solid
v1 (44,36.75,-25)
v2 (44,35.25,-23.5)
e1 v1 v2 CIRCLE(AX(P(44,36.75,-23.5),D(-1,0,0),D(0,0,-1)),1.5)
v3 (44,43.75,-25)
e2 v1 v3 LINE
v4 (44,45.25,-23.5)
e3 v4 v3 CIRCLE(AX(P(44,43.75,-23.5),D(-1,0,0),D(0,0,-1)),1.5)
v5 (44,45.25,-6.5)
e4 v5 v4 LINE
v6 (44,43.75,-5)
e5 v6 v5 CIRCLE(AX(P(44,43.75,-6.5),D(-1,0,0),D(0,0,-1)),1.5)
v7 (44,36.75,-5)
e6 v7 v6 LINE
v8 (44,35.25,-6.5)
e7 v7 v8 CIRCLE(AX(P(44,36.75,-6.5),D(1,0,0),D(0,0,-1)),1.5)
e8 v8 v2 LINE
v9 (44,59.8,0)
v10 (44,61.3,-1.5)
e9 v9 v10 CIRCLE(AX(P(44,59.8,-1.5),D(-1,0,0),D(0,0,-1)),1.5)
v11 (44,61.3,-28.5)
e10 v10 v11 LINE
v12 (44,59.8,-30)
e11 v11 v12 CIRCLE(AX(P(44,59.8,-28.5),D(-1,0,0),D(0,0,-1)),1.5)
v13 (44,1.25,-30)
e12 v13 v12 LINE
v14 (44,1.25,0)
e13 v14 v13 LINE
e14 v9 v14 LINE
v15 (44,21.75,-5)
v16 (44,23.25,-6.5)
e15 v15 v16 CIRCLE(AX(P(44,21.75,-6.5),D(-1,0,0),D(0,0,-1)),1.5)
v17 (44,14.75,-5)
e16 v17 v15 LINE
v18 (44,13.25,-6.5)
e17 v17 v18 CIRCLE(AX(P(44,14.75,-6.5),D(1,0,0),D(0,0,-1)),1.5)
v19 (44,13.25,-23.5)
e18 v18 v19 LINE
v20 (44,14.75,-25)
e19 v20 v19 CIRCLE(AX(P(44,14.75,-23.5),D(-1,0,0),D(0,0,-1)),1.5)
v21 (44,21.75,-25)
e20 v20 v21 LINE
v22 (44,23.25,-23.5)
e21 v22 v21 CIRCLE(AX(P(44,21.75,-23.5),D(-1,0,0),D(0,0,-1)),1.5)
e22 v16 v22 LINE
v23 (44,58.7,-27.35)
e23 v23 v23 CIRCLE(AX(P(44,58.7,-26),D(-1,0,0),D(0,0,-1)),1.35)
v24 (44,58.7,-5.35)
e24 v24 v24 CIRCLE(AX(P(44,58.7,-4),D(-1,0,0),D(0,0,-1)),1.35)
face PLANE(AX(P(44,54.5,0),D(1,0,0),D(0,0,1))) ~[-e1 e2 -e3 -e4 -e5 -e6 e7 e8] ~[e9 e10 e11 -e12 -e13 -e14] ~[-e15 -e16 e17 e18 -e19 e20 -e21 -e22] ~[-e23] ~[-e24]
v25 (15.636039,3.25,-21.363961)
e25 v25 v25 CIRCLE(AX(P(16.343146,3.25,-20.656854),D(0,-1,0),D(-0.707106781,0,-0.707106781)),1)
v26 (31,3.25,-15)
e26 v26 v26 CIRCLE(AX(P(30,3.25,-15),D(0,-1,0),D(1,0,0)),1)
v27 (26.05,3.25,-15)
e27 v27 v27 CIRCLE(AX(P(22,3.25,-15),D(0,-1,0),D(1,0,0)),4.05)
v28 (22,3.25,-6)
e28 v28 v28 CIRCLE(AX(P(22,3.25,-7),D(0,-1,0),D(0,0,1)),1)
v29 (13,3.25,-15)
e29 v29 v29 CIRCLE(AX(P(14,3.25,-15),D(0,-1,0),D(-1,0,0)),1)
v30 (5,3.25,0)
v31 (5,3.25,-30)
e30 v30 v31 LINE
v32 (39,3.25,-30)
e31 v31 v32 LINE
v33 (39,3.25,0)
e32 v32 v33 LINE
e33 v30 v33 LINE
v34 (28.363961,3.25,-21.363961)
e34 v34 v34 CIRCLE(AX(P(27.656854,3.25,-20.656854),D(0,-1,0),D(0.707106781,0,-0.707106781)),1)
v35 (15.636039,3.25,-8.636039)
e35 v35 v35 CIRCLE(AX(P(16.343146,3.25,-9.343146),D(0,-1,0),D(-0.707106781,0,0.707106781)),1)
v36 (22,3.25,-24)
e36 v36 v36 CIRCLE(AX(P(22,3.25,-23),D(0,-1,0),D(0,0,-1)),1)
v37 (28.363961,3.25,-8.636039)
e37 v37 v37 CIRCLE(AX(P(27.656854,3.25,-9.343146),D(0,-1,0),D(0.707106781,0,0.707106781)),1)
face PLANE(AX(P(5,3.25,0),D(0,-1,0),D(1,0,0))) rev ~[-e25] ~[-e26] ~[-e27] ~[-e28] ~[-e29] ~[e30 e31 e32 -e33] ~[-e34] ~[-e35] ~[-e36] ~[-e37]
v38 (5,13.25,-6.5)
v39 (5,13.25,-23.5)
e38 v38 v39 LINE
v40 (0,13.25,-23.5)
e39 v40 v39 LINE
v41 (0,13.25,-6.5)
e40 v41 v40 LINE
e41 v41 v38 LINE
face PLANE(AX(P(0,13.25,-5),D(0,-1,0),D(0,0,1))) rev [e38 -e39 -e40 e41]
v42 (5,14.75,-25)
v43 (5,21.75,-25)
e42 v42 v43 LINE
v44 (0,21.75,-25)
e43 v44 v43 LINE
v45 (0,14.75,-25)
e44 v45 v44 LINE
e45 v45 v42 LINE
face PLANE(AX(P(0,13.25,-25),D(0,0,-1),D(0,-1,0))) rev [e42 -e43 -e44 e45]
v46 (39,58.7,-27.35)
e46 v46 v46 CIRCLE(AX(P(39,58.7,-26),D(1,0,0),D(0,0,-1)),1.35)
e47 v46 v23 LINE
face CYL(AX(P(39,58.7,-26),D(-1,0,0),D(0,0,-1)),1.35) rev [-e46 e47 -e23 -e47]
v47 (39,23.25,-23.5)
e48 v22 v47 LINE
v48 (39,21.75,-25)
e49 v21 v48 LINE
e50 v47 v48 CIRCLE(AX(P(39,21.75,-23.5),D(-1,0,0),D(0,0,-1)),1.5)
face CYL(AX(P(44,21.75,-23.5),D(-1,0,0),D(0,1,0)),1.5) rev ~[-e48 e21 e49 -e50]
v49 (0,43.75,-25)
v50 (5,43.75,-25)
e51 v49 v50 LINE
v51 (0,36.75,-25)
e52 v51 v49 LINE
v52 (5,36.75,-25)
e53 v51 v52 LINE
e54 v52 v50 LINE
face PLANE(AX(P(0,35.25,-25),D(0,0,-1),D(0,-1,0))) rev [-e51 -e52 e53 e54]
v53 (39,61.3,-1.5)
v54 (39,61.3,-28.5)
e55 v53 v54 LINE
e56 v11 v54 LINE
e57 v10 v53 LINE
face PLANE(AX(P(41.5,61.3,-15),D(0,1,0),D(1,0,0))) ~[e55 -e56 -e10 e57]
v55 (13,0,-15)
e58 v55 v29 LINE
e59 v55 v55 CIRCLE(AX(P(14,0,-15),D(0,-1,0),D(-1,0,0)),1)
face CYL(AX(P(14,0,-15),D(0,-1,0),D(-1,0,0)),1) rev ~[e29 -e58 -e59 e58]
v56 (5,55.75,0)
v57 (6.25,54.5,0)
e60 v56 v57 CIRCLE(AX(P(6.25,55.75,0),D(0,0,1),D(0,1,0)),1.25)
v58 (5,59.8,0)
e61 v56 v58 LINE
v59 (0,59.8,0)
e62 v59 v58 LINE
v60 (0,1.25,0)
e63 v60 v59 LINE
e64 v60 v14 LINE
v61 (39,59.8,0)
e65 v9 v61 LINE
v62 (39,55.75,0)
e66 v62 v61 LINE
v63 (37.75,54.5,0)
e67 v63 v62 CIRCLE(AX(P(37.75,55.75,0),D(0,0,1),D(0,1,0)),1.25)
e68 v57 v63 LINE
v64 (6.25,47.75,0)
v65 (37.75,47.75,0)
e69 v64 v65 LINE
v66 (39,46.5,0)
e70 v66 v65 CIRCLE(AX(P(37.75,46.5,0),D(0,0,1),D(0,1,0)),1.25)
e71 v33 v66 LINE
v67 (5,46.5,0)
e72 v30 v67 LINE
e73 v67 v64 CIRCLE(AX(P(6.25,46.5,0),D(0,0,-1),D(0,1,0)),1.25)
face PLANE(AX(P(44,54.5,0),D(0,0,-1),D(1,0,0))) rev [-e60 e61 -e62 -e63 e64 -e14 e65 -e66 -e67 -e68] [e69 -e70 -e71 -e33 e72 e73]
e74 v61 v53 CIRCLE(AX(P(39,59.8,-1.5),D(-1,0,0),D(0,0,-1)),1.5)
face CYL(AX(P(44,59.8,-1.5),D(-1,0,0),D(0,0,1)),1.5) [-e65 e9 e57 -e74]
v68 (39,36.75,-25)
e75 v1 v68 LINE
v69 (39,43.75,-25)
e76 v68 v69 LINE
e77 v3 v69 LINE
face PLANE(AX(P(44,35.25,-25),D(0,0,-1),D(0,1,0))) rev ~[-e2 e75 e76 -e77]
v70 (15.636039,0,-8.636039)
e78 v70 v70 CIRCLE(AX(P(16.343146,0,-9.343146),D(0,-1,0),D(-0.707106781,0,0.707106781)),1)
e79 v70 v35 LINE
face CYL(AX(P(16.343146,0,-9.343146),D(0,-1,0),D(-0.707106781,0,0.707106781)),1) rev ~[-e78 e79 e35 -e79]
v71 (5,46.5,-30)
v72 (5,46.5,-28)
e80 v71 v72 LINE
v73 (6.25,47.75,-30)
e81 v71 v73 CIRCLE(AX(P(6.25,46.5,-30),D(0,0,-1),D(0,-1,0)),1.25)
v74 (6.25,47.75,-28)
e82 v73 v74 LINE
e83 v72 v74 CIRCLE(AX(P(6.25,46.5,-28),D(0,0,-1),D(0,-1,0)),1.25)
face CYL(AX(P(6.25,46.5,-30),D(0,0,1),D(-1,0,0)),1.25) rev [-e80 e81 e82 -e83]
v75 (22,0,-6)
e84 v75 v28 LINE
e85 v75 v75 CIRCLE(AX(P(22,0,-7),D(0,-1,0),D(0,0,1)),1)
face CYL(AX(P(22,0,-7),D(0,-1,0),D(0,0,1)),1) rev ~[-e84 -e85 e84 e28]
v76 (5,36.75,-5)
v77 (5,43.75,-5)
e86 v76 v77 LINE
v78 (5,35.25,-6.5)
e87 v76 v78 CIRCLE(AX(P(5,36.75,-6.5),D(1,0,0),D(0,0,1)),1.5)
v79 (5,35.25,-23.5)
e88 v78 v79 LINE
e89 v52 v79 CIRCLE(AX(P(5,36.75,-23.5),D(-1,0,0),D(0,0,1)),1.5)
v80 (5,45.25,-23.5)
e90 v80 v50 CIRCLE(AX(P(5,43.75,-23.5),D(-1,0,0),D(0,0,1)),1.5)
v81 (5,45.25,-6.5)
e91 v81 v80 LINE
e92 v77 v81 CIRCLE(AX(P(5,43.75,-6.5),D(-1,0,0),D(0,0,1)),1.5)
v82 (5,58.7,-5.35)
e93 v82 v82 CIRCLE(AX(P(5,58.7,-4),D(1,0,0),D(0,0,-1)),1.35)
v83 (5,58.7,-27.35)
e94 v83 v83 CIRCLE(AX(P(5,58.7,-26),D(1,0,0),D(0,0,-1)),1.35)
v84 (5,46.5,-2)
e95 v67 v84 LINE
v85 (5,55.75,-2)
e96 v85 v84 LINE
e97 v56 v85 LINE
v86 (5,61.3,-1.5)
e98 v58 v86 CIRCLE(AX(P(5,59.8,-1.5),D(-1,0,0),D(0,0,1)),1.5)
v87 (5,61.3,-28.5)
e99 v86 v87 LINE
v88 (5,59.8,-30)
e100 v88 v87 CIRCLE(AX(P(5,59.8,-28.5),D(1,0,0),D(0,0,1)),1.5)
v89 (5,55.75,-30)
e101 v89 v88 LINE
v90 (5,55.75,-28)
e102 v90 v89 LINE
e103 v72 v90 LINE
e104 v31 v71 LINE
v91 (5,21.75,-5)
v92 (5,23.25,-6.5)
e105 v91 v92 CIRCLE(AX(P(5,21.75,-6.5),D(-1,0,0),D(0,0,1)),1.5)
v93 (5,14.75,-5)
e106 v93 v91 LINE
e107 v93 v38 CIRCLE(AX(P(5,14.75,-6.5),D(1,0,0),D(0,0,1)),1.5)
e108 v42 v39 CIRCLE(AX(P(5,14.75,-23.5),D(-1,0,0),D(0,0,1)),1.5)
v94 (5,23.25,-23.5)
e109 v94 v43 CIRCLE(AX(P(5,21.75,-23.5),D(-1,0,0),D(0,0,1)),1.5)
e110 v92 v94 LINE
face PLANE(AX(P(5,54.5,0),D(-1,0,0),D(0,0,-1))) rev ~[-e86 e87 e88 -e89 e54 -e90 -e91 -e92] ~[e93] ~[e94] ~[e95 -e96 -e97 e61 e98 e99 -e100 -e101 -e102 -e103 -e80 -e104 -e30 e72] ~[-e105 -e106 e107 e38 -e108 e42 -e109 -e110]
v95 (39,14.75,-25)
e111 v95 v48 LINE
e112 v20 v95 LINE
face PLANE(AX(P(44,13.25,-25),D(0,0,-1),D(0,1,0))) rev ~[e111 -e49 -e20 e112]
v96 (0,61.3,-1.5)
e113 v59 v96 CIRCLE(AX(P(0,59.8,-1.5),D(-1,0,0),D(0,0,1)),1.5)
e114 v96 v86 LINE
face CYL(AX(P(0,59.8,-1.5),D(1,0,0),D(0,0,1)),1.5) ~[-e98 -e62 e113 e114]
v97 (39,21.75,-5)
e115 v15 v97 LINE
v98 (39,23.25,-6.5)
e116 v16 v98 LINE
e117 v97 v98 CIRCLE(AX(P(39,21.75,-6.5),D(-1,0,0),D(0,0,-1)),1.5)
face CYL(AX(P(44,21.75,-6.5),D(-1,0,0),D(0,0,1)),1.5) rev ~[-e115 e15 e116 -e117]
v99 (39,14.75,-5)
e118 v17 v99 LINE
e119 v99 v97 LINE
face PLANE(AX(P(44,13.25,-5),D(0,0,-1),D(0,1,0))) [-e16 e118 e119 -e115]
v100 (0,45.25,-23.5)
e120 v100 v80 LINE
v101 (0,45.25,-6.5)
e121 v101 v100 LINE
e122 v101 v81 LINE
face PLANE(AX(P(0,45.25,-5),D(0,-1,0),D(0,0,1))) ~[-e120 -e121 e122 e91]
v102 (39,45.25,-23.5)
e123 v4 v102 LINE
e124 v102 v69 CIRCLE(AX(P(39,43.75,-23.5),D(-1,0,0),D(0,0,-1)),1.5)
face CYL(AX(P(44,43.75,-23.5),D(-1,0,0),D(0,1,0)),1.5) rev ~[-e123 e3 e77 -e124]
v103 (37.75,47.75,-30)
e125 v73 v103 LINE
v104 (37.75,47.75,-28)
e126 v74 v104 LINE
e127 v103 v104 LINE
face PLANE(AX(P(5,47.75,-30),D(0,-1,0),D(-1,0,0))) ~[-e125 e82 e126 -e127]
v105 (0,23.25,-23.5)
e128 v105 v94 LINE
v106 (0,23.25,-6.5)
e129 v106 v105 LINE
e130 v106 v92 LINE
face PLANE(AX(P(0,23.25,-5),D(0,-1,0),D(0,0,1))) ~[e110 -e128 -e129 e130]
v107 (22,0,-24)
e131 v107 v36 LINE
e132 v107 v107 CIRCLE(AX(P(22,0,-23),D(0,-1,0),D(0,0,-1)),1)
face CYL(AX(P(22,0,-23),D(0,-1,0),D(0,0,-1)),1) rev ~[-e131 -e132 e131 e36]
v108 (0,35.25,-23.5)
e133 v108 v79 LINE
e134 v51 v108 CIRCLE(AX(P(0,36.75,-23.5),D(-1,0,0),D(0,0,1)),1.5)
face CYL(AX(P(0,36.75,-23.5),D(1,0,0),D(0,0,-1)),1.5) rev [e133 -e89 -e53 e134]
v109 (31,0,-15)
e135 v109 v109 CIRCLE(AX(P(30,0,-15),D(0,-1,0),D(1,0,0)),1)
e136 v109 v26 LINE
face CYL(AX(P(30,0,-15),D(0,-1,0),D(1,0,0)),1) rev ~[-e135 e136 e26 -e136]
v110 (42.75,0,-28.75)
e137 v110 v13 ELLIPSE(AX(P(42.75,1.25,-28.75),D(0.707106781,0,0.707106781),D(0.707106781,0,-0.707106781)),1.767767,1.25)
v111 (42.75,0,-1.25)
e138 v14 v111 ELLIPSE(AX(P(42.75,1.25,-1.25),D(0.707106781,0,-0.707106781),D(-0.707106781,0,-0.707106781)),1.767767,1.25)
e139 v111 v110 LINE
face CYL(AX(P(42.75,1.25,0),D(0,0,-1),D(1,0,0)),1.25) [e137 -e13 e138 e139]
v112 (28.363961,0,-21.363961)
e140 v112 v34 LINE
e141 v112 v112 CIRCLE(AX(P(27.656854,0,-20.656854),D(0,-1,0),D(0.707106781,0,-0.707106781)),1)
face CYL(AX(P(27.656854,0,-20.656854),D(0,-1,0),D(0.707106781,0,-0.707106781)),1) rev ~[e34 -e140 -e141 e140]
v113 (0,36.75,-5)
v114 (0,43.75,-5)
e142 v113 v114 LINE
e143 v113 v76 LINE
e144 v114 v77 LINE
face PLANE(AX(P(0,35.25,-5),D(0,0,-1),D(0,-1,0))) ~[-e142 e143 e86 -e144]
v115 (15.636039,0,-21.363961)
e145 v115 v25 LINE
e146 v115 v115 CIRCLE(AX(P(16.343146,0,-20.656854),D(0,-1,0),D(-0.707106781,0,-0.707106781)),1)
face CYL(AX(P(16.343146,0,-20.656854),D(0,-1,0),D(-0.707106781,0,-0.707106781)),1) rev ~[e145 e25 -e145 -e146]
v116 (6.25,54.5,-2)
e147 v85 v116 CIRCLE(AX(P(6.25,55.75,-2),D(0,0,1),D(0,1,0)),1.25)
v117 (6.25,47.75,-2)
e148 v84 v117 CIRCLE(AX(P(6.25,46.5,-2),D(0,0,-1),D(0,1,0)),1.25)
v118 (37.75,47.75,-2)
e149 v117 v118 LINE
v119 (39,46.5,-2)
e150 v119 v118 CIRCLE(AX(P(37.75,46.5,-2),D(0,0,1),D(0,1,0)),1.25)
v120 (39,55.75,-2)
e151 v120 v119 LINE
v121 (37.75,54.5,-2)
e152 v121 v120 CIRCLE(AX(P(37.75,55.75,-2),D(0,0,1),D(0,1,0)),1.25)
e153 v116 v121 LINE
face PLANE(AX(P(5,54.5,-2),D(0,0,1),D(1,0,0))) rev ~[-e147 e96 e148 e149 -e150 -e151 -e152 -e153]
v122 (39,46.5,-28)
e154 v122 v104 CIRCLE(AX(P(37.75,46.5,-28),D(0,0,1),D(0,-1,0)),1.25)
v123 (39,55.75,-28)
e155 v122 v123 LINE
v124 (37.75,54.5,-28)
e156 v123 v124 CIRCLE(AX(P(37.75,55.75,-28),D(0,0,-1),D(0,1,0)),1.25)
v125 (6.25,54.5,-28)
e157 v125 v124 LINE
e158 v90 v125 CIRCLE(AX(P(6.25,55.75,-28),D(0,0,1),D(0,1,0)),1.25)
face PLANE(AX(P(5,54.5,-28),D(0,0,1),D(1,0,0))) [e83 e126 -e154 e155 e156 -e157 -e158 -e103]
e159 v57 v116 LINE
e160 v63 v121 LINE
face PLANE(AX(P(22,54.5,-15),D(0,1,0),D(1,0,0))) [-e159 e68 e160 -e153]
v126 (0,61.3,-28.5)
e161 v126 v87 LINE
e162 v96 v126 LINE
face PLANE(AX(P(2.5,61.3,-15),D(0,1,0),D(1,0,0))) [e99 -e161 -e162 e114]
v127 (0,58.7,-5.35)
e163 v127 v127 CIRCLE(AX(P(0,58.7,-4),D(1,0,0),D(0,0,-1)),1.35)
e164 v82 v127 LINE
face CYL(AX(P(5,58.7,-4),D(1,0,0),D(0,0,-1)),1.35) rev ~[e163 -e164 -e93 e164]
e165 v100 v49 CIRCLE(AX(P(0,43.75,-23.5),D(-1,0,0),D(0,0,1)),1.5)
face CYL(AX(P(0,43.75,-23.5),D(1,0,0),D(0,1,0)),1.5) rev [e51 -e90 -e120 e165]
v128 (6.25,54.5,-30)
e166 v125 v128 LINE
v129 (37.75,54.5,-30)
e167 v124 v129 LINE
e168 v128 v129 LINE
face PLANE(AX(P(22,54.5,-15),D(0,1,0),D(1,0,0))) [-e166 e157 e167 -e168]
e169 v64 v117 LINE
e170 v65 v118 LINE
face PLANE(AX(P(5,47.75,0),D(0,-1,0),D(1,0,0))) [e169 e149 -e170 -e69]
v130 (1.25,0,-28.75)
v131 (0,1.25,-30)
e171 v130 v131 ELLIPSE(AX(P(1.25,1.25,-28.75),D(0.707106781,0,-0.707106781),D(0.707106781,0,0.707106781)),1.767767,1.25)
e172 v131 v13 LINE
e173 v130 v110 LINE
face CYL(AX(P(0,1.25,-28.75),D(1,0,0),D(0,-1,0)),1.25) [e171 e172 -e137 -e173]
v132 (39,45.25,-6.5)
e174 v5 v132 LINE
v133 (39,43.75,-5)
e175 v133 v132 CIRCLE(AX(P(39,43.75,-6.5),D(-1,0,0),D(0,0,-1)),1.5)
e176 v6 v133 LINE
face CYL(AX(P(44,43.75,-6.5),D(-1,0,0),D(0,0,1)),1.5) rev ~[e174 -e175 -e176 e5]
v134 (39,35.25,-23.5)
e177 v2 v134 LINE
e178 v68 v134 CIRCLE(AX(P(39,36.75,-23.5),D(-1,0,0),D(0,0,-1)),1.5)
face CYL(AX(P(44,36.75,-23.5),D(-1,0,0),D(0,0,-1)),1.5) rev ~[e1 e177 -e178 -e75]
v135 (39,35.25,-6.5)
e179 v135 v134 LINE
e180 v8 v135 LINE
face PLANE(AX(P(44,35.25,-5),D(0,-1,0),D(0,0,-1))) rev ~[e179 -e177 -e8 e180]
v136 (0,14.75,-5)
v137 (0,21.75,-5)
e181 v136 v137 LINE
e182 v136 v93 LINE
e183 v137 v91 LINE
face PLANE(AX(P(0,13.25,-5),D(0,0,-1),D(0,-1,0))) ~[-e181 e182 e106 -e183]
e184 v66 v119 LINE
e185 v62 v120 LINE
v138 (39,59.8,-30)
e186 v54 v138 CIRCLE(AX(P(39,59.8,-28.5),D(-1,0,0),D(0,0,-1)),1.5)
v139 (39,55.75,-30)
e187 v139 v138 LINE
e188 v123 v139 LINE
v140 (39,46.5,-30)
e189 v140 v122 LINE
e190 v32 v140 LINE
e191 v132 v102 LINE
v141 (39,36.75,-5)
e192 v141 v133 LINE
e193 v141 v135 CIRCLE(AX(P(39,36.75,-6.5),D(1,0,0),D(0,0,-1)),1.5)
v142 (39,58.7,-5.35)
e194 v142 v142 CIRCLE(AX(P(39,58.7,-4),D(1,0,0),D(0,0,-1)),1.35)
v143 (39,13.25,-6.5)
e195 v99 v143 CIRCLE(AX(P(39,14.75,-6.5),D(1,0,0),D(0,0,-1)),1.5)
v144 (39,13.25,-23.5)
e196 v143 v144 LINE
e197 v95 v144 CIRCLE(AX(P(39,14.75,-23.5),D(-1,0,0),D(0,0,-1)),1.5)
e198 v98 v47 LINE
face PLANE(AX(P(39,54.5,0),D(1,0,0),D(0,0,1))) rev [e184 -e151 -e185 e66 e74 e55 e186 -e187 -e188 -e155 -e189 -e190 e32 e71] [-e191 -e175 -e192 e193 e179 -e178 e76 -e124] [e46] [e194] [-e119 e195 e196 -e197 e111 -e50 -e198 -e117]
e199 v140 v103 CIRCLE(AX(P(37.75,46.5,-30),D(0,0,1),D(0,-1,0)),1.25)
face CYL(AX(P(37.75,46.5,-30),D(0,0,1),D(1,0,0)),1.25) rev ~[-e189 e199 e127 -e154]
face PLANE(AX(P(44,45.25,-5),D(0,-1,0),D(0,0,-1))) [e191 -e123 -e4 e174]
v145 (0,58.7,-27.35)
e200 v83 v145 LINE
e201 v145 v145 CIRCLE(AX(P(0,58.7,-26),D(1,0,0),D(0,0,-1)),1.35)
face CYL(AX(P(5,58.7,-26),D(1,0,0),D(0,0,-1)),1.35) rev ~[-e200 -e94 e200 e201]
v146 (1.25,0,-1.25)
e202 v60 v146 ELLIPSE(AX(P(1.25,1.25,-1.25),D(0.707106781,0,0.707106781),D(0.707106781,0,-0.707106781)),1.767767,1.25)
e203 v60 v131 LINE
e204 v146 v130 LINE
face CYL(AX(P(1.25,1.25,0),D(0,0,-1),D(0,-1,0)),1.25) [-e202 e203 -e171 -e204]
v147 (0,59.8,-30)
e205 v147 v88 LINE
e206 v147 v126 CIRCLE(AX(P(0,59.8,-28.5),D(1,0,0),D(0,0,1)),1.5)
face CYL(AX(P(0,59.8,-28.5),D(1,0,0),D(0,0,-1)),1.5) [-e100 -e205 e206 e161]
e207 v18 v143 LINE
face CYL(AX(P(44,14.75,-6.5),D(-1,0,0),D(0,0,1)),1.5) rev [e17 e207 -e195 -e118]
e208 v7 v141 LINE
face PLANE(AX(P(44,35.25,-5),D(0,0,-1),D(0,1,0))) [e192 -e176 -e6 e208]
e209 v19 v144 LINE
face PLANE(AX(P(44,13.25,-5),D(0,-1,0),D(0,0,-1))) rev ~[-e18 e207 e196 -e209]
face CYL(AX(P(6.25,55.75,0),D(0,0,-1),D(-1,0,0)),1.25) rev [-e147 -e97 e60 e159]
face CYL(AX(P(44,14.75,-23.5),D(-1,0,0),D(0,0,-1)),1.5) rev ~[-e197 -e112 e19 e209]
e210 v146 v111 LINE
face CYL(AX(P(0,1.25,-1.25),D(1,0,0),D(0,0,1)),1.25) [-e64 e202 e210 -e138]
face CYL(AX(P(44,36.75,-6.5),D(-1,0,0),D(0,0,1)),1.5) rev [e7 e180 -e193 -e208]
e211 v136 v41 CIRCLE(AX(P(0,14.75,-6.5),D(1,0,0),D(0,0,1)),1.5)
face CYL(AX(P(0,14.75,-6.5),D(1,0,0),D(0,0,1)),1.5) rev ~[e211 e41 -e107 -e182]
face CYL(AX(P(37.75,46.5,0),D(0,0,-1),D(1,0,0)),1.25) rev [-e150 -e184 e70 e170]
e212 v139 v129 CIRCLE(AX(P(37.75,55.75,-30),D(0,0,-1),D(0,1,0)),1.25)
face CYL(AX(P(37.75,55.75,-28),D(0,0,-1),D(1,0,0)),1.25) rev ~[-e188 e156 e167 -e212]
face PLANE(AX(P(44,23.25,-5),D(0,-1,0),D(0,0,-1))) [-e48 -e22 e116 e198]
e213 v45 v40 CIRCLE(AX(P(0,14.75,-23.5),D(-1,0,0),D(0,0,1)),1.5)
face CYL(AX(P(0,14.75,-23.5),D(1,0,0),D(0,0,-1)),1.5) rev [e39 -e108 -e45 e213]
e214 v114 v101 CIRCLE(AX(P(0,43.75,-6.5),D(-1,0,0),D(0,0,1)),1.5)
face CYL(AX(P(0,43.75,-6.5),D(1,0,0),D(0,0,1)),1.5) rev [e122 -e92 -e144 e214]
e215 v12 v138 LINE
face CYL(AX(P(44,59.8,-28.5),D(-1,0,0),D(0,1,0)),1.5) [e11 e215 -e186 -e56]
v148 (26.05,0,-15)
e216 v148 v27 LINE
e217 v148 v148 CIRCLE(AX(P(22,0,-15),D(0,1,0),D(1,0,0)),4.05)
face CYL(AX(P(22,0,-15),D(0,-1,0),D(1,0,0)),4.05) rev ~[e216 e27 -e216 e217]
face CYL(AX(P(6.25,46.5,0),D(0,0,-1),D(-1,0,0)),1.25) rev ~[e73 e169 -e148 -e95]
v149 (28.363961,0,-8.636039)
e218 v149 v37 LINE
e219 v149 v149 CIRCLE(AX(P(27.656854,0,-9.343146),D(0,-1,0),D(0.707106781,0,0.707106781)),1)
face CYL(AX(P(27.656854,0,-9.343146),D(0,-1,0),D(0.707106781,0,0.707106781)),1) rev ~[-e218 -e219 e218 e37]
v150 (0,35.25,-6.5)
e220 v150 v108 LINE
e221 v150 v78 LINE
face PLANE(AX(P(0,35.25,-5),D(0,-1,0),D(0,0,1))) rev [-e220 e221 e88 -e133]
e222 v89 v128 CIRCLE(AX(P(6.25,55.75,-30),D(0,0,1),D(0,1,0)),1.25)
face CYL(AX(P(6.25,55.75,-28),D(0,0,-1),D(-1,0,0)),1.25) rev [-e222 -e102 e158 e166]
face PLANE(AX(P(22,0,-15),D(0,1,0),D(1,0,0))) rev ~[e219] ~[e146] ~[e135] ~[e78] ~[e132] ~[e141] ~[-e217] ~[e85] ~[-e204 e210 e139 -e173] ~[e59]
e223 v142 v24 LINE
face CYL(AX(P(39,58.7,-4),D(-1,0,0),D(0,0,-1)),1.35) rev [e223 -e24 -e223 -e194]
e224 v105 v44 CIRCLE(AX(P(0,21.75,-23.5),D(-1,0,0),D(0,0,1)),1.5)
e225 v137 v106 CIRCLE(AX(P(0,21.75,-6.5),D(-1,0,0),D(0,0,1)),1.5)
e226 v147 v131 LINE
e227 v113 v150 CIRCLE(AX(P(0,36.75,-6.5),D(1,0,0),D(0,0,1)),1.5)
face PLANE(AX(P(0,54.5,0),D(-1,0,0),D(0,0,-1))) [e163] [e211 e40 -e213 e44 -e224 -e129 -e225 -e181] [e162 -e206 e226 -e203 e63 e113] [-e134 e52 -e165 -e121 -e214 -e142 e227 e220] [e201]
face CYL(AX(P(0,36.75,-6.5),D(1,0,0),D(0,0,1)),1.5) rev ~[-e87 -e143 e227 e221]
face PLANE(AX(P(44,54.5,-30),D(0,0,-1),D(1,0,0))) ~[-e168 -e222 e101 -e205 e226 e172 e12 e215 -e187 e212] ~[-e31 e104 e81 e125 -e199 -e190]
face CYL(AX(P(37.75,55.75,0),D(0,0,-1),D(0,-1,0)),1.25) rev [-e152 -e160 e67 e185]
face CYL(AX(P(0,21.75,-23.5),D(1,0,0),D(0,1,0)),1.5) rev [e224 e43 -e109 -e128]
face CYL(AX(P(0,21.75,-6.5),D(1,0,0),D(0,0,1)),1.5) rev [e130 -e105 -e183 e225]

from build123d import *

# Parameters (mm, degrees)
SKETCH1_W            = 44
SKETCH1_H            = 30
BOSS_EXTRUDE1_DEPTH  = 54.5
SKETCH5_W            = 5
SKETCH5_H            = 30
BOSS_EXTRUDE3_DEPTH  = 6.8
SKETCH9_R            = 1.35
CUT_EXTRUDE6_DEPTH   = 79.604643629
FILLET1_R            = 1.5
FILLET2_R            = 1.25
SKETCH11_W           = 34
SKETCH11_H           = 26
CUT_EXTRUDE7_DEPTH   = 51.25
CUT_EXTRUDE8_REACH   = 83.202
SKETCH13_R           = 4.05
SKETCH13_R_2         = 1
CIRPATTERN1_COUNT    = 8
CUT_EXTRUDE10_REACH  = 83.202
SKETCH15_W           = 20
SKETCH15_H           = 10
FILLET6_R            = 1.5
FILLET6_OF_MIRROR4_R = 1.5
CUT_EXTRUDE11_REACH  = 83.202
SKETCH16_W           = 34
SKETCH16_H           = 44.5
FILLET7_R            = 1.25


with BuildPart() as part:
    # Sketch1 → Boss-Extrude1 (new body)
    with BuildSketch(Plane(origin=(0, 0, 0), x_dir=(1, 0, 0), z_dir=(0, 1, 0))):
        with Locations((22, 15)):
            Rectangle(SKETCH1_W, SKETCH1_H)
    extrude(amount=BOSS_EXTRUDE1_DEPTH)

    # Sketch5 → Boss-Extrude3 (add)
    with BuildSketch(Plane(origin=(0, 54.5, 0), x_dir=(1, 0, 0), z_dir=(0, 1, 0))):
        with Locations((2.5, 15)):
            Rectangle(SKETCH5_W, SKETCH5_H)
    boss_extrude3 = extrude(amount=BOSS_EXTRUDE3_DEPTH)

    # Sketch9 → Cut-Extrude6 (cut, through all)
    with BuildSketch(Plane(origin=(5, 0, 0), x_dir=(0, 0, -1), z_dir=(1, 0, 0))):
        with Locations((26, 58.7)):
            Circle(SKETCH9_R)
        with Locations((4, 58.7)):
            Circle(SKETCH9_R)
    cut_extrude6 = extrude(amount=-CUT_EXTRUDE6_DEPTH, mode=Mode.SUBTRACT)

    # Mirror2: Boss-Extrude3, Cut-Extrude6 across plane
    add(boss_extrude3.mirror(Plane.ZY.offset(-22)))
    add(cut_extrude6.mirror(Plane.ZY.offset(-22)), mode=Mode.SUBTRACT)

    # Fillet1
    fillet1_edges = [part.edges().sort_by_distance(p)[0] for p in [
        (41.5, 61.3, -30),
        (2.5, 61.3, -30),
        (2.5, 61.3, 0),
        (41.5, 61.3, 0),
    ]]
    fillet(fillet1_edges, radius=FILLET1_R)

    # Fillet2
    fillet2_edges = [part.edges().sort_by_distance(p)[0] for p in [
        (0, 0, -15),
        (22, 0, -30),
        (22, 0, 0),
        (44, 0, -15),
    ]]
    fillet(fillet2_edges, radius=FILLET2_R)

    # Sketch11 → Cut-Extrude7 (cut)
    with BuildSketch(Plane(origin=(0, 54.5, 0), x_dir=(1, 0, 0), z_dir=(0, 1, 0))):
        with Locations((22, 15)):
            Rectangle(SKETCH11_W, SKETCH11_H)
    extrude(amount=-CUT_EXTRUDE7_DEPTH, mode=Mode.SUBTRACT)

    # Sketch13 → Cut-Extrude8 (cut, up to next)
    with BuildSketch(Plane.XZ, mode=Mode.PRIVATE) as cut_extrude8_sk1:
        with Locations((22, -15)):
            Circle(SKETCH13_R)
    cut_extrude8_tool1 = extrude(cut_extrude8_sk1.sketch, amount=-CUT_EXTRUDE8_REACH, mode=Mode.PRIVATE) & part.part
    # Sketch13 → Cut-Extrude8 (cut, up to next)
    with BuildSketch(Plane.XZ, mode=Mode.PRIVATE) as cut_extrude8_sk2:
        with Locations((30, -15)):
            Circle(SKETCH13_R_2)
    cut_extrude8_tool2 = extrude(cut_extrude8_sk2.sketch, amount=-CUT_EXTRUDE8_REACH, mode=Mode.PRIVATE) & part.part
    cut_extrude8_1 = cut_extrude8_tool1.solids().sort_by_distance((22, 0, -15))[0]
    add(cut_extrude8_1, mode=Mode.SUBTRACT)
    cut_extrude8_2 = cut_extrude8_tool2.solids().sort_by_distance((30, 0, -15))[0]
    add(cut_extrude8_2, mode=Mode.SUBTRACT)
    cut_extrude8 = cut_extrude8_1 + cut_extrude8_2  # Cut-Extrude8 as one shape, for the pattern or mirror that repeats it

    # CirPattern1: Cut-Extrude8 ×8 about axis
    cirpattern1_axis = Axis((22, 0, -15), (0, -1, 0))
    for i in range(1, CIRPATTERN1_COUNT):
        add(cut_extrude8.rotate(cirpattern1_axis, i * 360 / CIRPATTERN1_COUNT), mode=Mode.SUBTRACT)

    # Sketch15 → Cut-Extrude10 (cut, up to next)
    with BuildSketch(Plane(origin=(44, 0, 0), x_dir=(0, 0, -1), z_dir=(1, 0, 0)), mode=Mode.PRIVATE) as cut_extrude10_sk1:
        with Locations((15, 18.25)):
            Rectangle(SKETCH15_W, SKETCH15_H)
    cut_extrude10_tool1 = extrude(cut_extrude10_sk1.sketch, amount=-CUT_EXTRUDE10_REACH, mode=Mode.PRIVATE) & part.part
    # Sketch15 → Cut-Extrude10 (cut, up to next)
    with BuildSketch(Plane(origin=(44, 0, 0), x_dir=(0, 0, -1), z_dir=(1, 0, 0)), mode=Mode.PRIVATE) as cut_extrude10_sk2:
        with Locations((15, 40.25)):
            Rectangle(SKETCH15_W, SKETCH15_H)
    cut_extrude10_tool2 = extrude(cut_extrude10_sk2.sketch, amount=-CUT_EXTRUDE10_REACH, mode=Mode.PRIVATE) & part.part
    cut_extrude10_1 = cut_extrude10_tool1.solids().sort_by_distance((44, 18.25, -15))[0]
    add(cut_extrude10_1, mode=Mode.SUBTRACT)
    cut_extrude10_2 = cut_extrude10_tool2.solids().sort_by_distance((44, 40.25, -15))[0]
    add(cut_extrude10_2, mode=Mode.SUBTRACT)
    cut_extrude10 = cut_extrude10_1 + cut_extrude10_2  # Cut-Extrude10 as one shape, for the pattern or mirror that repeats it

    # Fillet6
    fillet6_edges = [part.edges().sort_by_distance(p)[0] for p in [
        (41.5, 13.25, -5),
        (41.5, 35.25, -5),
        (41.5, 23.25, -5),
        (41.5, 45.25, -5),
        (41.5, 23.25, -25),
        (41.5, 45.25, -25),
        (41.5, 35.25, -25),
        (41.5, 13.25, -25),
    ]]
    fillet(fillet6_edges, radius=FILLET6_R)

    # Mirror4: Cut-Extrude10 across plane
    add(cut_extrude10.mirror(Plane.ZY.offset(-22)), mode=Mode.SUBTRACT)

    # Fillet6 of Mirror4
    fillet6_of_mirror4_edges = [part.edges().sort_by_distance(p)[0] for p in [
        (2.5, 13.25, -5),
        (2.5, 35.25, -5),
        (2.5, 23.25, -5),
        (2.5, 45.25, -5),
        (2.5, 23.25, -25),
        (2.5, 45.25, -25),
        (2.5, 35.25, -25),
        (2.5, 13.25, -25),
    ]]
    fillet(fillet6_of_mirror4_edges, radius=FILLET6_OF_MIRROR4_R)

    # Sketch16 → Cut-Extrude11 (cut, up to next)
    with BuildSketch(Plane.XY, mode=Mode.PRIVATE) as cut_extrude11_sk1:
        with Locations((22, 25.5)):
            Rectangle(SKETCH16_W, SKETCH16_H)
    cut_extrude11_tool1 = extrude(cut_extrude11_sk1.sketch, amount=-CUT_EXTRUDE11_REACH, mode=Mode.PRIVATE) & part.part
    cut_extrude11 = cut_extrude11_tool1.solids().sort_by_distance((22, 25.5, 0))[0]
    add(cut_extrude11, mode=Mode.SUBTRACT)

    # Mirror5: Cut-Extrude11 across plane
    add(cut_extrude11.mirror(Plane(origin=(0, 0, -15), x_dir=(1, 0, 0), z_dir=(0, 0, -1))), mode=Mode.SUBTRACT)

    # Fillet7
    fillet7_edges = [part.edges().sort_by_distance(p)[0] for p in [
        (5, 47.75, -29),
        (5, 47.75, -1),
        (5, 54.5, -1),
        (5, 54.5, -29),
        (39, 54.5, -1),
        (39, 54.5, -29),
        (39, 47.75, -29),
        (39, 47.75, -1),
    ]]
    fillet(fillet7_edges, radius=FILLET7_R)


solid = part.part
